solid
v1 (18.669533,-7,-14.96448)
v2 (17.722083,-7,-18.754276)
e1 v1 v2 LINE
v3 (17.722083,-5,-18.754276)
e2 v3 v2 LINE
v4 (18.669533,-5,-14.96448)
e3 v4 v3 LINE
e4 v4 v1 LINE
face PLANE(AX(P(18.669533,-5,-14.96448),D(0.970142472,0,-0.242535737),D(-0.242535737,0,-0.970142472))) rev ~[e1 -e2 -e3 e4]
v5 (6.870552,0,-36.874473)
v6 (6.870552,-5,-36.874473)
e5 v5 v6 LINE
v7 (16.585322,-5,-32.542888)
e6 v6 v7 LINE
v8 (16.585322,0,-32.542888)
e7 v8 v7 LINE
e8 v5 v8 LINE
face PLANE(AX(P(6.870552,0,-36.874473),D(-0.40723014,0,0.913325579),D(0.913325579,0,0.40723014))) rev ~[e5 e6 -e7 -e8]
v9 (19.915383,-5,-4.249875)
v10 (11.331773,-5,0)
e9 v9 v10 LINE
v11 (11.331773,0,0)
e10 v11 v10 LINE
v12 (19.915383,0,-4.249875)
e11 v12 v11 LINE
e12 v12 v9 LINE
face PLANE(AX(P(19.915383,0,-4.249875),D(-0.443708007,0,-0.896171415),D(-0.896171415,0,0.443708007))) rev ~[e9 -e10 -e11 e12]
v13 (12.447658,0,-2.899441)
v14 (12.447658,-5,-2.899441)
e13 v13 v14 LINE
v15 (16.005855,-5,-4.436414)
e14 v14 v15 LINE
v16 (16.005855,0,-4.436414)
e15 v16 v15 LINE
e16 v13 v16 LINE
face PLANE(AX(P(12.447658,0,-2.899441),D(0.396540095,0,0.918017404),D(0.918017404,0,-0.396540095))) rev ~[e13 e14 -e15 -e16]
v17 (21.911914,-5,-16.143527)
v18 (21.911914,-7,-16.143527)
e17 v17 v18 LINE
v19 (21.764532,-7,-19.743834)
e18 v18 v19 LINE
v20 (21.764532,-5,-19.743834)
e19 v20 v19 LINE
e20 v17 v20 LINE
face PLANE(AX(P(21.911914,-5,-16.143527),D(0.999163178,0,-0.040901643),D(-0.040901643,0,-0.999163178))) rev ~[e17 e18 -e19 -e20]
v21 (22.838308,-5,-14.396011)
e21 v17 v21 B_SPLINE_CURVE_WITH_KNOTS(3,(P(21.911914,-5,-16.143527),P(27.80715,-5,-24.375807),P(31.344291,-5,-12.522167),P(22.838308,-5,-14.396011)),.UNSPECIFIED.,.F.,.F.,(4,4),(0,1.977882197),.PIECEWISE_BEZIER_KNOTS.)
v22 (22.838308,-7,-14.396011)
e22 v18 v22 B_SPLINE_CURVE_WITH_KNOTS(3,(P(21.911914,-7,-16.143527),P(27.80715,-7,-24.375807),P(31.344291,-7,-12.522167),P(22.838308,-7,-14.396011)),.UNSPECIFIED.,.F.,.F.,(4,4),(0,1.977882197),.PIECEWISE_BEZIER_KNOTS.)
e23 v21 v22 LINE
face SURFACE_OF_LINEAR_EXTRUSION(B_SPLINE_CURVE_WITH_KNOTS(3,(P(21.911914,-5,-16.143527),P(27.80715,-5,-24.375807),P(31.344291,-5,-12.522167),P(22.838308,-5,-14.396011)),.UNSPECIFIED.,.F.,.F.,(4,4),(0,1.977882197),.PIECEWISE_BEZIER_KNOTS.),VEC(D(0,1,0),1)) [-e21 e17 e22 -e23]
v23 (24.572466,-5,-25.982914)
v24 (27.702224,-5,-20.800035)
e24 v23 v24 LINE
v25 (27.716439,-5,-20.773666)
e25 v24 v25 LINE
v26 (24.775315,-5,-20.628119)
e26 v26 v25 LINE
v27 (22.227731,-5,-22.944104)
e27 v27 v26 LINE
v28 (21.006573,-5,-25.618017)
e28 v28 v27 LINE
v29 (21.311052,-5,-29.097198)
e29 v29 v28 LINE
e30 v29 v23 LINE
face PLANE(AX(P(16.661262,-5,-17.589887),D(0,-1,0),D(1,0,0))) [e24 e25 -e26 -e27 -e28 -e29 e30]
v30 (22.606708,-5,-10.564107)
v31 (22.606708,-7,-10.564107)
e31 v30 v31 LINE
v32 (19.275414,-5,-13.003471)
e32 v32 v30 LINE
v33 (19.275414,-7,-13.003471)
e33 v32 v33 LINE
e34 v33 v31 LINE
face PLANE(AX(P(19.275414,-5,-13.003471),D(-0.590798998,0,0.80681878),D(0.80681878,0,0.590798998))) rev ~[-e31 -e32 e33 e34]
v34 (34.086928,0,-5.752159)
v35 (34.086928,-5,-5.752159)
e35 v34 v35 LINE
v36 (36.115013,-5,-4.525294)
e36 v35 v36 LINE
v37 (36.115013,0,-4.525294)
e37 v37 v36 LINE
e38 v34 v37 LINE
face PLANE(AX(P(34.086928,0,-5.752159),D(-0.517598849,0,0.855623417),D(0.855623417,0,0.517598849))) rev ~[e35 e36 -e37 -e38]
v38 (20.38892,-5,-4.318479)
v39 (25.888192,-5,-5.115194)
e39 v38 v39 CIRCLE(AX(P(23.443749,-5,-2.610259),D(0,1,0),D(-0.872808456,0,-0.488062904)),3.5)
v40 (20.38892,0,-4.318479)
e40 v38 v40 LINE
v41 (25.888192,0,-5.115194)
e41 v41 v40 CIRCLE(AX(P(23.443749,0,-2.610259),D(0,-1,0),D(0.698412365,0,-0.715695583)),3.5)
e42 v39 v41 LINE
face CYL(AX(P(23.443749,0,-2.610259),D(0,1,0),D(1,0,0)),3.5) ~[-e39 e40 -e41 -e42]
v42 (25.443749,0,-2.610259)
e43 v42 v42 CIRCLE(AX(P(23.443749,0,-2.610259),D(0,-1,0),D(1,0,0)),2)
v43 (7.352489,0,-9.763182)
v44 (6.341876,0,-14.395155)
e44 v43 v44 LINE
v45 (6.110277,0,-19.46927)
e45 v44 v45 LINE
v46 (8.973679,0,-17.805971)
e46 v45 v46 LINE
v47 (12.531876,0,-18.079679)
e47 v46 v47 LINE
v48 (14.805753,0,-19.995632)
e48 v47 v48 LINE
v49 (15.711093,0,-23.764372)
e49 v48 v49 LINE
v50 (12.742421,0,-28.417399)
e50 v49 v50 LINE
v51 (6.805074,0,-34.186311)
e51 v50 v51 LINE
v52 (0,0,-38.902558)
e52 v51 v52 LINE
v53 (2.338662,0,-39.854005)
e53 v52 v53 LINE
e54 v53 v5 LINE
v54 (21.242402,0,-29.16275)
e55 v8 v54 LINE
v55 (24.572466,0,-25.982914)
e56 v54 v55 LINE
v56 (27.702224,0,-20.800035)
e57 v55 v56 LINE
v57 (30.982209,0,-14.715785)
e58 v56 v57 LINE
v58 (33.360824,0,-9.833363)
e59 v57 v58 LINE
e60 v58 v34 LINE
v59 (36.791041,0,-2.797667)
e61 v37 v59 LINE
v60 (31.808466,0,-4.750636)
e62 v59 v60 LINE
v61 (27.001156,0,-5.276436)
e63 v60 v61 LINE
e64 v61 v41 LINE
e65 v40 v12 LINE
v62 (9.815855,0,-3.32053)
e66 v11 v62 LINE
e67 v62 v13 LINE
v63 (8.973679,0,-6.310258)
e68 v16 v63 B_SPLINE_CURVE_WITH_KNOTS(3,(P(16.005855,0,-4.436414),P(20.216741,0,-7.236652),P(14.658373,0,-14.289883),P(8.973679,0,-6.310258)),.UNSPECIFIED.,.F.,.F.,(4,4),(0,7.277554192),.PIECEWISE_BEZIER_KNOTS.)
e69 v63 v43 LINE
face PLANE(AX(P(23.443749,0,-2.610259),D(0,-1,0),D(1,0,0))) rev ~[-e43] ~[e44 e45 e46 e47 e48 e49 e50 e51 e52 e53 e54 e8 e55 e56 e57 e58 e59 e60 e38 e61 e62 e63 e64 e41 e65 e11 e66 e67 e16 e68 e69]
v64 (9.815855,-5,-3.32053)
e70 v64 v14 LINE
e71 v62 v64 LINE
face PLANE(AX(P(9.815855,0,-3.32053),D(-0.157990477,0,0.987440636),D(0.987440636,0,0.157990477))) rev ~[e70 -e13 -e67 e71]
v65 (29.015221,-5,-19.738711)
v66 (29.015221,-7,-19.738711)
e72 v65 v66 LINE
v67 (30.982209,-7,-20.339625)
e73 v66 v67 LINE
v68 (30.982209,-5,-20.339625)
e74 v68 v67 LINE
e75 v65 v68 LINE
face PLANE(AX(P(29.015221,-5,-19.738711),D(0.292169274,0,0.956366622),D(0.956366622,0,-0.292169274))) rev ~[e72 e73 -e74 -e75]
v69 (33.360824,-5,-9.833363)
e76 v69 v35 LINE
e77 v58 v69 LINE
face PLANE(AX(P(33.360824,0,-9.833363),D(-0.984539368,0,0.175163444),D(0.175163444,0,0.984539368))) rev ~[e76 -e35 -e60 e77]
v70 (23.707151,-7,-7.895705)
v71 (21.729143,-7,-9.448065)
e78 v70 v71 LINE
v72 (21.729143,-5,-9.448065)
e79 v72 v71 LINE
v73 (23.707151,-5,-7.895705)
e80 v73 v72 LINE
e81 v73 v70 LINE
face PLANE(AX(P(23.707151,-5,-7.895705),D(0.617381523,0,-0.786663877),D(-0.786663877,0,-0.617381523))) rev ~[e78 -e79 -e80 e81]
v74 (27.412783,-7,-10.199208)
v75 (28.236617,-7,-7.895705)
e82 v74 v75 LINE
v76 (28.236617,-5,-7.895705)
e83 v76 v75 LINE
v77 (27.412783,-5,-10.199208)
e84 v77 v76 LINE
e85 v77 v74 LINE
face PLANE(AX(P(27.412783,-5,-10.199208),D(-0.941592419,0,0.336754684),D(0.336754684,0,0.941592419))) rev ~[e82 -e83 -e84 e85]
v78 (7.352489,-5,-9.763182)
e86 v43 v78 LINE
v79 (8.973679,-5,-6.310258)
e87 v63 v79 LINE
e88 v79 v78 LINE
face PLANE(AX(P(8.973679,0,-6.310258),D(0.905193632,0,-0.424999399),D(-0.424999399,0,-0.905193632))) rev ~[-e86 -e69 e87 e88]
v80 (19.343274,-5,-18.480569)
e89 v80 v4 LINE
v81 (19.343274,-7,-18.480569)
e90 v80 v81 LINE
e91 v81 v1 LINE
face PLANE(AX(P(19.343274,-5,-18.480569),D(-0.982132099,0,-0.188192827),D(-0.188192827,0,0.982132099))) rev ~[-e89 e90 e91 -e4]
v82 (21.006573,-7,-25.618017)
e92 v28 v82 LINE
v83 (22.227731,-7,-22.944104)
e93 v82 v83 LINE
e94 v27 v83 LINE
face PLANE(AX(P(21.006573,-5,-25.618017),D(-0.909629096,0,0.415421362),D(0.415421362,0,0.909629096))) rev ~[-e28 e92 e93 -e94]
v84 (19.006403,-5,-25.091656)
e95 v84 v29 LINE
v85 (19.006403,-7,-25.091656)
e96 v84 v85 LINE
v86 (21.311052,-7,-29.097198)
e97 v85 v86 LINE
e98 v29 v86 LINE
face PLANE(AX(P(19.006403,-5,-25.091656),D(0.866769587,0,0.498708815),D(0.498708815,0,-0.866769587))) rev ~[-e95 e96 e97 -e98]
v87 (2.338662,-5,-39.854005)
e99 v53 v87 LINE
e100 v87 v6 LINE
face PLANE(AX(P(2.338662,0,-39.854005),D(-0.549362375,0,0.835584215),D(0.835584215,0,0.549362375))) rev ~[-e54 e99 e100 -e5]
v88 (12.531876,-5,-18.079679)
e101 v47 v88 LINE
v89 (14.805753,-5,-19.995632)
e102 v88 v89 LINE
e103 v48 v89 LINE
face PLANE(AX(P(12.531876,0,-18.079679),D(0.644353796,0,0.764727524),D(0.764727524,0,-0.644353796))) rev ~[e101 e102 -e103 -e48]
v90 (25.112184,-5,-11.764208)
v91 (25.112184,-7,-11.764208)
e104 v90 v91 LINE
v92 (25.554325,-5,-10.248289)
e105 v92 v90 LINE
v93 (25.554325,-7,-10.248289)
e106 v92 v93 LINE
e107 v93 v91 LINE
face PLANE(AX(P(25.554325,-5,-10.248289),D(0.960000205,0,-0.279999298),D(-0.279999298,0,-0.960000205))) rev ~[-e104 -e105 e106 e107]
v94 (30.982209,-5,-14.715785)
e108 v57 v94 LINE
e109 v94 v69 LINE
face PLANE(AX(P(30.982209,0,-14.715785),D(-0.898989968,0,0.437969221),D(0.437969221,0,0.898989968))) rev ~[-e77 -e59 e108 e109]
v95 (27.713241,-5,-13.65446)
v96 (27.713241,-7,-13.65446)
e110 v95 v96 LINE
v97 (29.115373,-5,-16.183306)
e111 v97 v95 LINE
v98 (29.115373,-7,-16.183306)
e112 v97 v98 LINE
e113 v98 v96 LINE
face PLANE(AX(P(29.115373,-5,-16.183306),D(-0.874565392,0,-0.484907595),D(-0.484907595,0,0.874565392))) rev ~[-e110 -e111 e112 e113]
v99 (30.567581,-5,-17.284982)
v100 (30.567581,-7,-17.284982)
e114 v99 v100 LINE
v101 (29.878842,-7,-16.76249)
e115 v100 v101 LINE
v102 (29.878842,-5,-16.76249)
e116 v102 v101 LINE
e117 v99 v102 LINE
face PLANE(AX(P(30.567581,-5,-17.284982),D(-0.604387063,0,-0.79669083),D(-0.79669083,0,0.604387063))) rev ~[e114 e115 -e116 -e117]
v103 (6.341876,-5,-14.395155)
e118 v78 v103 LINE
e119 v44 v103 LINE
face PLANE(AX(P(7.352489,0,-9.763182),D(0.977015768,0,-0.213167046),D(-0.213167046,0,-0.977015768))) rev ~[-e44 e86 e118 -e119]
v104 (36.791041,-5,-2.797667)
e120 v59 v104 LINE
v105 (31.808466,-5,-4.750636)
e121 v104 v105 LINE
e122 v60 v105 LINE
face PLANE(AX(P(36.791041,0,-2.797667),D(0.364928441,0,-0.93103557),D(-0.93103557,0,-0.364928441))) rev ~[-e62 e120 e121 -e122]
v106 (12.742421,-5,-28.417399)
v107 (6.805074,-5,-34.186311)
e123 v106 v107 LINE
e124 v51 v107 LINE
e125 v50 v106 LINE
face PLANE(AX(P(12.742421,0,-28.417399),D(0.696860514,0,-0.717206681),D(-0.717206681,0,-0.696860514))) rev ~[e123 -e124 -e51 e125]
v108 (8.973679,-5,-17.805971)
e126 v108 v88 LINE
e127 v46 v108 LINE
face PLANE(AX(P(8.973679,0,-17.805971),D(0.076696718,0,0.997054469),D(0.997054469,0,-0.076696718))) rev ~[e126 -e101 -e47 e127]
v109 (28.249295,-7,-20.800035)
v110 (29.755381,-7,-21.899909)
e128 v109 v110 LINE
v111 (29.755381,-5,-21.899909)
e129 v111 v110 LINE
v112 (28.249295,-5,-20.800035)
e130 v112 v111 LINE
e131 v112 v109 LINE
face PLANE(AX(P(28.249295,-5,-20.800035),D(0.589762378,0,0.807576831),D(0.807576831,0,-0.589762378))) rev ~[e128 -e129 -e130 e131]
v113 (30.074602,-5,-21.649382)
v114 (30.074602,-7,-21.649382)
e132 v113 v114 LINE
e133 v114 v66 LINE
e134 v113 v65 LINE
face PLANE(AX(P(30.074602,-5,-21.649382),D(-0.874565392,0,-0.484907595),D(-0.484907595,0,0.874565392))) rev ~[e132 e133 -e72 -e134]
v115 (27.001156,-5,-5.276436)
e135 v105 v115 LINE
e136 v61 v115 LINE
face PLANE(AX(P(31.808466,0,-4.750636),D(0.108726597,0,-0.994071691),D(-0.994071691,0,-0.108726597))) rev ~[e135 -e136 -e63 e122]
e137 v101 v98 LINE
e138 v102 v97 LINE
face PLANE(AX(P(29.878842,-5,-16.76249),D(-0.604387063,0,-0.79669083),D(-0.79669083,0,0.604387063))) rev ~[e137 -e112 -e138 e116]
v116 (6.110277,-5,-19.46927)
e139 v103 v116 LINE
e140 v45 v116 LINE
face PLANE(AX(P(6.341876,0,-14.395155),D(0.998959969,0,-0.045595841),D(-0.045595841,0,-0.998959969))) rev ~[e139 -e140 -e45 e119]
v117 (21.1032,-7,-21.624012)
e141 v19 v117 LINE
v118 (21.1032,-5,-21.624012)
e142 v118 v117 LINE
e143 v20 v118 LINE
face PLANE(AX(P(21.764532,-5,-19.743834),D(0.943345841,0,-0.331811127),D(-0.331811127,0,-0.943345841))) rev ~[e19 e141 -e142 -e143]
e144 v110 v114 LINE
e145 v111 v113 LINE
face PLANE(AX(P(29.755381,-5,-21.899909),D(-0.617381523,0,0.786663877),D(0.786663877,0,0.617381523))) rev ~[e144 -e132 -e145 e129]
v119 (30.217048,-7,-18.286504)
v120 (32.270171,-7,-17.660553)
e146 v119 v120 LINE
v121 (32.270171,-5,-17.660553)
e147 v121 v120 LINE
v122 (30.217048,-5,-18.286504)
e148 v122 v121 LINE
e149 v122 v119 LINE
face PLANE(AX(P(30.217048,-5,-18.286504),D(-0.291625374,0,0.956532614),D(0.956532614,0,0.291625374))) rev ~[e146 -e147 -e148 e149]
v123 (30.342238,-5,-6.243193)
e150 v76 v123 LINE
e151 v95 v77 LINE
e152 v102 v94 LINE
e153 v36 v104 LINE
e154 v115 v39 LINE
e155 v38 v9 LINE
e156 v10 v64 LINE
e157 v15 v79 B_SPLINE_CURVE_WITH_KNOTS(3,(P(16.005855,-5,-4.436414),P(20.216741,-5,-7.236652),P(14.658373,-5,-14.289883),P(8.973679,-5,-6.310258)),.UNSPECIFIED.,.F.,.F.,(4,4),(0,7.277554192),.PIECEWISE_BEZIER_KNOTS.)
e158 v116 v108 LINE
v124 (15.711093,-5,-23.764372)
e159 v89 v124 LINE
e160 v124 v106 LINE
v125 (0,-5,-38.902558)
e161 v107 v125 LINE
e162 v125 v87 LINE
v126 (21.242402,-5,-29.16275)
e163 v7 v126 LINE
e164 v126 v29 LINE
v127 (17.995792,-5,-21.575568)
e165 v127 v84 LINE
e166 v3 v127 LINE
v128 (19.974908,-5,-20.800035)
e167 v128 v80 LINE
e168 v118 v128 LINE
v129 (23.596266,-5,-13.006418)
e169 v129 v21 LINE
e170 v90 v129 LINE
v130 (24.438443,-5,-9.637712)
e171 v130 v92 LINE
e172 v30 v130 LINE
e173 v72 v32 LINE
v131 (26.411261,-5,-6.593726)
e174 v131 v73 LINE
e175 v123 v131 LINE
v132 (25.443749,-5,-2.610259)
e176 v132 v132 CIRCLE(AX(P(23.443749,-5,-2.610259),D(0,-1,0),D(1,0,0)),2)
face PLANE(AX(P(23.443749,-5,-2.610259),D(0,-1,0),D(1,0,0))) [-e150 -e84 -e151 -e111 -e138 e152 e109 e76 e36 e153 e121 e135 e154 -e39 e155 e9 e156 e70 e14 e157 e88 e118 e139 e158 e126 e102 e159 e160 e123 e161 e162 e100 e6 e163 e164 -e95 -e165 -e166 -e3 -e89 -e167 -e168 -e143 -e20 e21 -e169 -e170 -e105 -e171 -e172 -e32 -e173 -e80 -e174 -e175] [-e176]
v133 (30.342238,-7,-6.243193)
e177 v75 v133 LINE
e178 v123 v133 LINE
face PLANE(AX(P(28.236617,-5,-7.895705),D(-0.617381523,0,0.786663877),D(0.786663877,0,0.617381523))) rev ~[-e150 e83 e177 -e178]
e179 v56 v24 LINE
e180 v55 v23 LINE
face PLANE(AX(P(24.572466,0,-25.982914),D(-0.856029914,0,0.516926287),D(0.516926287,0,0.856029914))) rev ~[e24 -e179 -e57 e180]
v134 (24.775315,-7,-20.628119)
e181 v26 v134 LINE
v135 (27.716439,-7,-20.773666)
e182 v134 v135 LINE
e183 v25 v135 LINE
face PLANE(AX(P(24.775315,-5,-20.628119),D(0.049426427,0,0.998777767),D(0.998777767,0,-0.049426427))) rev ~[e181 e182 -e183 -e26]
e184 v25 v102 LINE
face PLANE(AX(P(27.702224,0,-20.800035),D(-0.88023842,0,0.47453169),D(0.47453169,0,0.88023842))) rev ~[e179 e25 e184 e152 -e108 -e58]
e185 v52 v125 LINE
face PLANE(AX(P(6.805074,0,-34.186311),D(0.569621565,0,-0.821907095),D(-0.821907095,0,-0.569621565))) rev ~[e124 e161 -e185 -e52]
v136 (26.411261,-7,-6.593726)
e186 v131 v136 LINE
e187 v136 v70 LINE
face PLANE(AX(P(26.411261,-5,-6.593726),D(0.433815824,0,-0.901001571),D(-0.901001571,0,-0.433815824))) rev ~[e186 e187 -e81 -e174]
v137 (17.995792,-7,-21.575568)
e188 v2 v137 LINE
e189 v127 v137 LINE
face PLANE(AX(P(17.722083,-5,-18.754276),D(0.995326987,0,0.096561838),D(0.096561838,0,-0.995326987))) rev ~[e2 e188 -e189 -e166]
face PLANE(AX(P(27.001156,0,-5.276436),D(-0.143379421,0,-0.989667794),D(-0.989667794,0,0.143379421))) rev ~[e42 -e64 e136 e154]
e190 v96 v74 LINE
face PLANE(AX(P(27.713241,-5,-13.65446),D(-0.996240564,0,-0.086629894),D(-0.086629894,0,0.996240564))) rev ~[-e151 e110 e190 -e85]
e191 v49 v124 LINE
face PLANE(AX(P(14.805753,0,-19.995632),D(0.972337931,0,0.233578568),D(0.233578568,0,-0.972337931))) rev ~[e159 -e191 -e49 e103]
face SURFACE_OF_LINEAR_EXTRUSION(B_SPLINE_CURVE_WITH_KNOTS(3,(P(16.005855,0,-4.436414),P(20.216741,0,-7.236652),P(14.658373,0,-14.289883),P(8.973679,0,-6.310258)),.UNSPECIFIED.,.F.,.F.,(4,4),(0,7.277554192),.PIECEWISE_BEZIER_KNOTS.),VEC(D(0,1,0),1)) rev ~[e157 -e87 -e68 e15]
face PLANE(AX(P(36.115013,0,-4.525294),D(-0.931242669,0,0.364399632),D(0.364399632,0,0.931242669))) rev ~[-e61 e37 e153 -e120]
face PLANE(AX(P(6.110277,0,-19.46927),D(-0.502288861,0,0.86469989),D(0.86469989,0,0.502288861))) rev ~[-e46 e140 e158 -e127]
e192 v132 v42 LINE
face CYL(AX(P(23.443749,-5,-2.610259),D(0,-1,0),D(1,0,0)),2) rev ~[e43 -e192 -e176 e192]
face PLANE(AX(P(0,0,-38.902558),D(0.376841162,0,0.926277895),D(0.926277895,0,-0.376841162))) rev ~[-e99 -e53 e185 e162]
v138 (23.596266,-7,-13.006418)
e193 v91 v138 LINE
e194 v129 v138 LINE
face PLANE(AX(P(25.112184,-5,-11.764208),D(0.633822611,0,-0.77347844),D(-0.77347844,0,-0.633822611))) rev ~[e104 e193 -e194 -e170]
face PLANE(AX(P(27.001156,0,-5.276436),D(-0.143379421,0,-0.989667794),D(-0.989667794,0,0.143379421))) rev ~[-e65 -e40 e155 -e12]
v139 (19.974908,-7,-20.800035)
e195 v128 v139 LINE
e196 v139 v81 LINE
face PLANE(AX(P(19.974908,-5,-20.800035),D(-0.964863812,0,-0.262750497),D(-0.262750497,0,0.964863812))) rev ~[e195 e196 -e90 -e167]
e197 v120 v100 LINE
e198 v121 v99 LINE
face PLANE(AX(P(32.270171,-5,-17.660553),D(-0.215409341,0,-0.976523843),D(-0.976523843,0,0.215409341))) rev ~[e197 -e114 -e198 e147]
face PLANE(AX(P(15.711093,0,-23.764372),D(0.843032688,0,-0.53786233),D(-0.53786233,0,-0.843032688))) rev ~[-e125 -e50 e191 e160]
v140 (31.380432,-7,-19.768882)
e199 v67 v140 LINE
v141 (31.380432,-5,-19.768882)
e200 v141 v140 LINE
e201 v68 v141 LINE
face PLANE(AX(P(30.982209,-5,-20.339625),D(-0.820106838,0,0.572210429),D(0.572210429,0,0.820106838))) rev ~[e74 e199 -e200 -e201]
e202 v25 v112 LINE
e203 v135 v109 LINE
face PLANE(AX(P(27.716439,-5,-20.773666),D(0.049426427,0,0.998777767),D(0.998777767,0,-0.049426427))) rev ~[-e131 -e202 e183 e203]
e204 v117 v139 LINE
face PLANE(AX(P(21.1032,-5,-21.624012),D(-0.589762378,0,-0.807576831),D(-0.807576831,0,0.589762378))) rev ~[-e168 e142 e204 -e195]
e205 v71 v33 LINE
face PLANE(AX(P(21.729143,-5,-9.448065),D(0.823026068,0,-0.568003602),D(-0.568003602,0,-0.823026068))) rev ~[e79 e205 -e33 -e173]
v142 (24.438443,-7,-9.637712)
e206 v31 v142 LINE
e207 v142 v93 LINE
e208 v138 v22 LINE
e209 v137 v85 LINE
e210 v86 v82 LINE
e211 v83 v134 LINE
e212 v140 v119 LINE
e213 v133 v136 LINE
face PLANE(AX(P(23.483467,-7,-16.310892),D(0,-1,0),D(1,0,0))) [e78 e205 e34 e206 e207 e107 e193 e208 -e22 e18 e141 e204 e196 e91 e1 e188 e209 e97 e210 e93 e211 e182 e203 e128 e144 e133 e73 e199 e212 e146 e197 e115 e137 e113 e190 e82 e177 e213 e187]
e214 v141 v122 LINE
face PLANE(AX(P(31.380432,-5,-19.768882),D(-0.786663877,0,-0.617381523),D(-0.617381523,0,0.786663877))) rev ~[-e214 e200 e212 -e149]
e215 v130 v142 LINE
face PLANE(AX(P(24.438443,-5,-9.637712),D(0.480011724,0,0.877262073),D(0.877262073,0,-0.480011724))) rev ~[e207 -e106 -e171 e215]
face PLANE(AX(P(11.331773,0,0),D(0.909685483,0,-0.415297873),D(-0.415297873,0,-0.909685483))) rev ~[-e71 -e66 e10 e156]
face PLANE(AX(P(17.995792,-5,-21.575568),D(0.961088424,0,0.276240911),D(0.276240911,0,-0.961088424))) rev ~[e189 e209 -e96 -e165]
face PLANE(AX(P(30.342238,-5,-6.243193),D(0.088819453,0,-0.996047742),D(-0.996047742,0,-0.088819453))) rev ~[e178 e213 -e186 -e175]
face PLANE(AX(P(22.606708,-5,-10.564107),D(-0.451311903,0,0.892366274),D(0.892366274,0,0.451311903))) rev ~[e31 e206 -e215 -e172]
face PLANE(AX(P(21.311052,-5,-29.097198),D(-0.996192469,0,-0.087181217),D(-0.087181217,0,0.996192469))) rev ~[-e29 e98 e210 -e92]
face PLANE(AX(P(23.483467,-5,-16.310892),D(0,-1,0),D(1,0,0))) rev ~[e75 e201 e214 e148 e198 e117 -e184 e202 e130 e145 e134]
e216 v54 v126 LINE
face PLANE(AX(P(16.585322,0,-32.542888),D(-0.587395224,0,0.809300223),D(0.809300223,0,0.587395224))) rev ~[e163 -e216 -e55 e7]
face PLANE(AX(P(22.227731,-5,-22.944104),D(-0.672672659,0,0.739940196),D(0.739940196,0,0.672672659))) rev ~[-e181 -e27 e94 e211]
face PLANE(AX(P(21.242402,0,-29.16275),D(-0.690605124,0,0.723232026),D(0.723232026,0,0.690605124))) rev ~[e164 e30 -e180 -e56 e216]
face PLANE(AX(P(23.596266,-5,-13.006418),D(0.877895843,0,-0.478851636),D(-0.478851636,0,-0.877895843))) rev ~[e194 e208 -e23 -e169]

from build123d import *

# Parameters (mm, degrees)
F1_DEPTH = 5
F3_DEPTH = 2
F4_R     = 3.5
F5_DEPTH = 5
F6_R     = 2
F7_DEPTH = 5000


with BuildPart() as f1:
    # F0 (on Front) → F1 (new body)
    with BuildSketch(Plane.XZ):
        with BuildLine():
            Line((19.9153833091, -4.2498749681), (11.3317733631, 0))
            Line((11.3317733631, 0), (9.8158549517, -3.3205298241))
            Line((9.8158549517, -3.3205298241), (12.4476579949, -2.8994414024))
            Line((12.4476579949, -2.8994414024), (16.0058550537, -4.4364142232))
            add(Edge.make_bspline(
                [(16.0058550537, -4.4364142232), (20.2167406678, -7.2366520762), (14.6583728492, -14.2898829654), (8.973678574, -6.310257595)],
                knots=[0, 0, 0, 0, 7.2775541924, 7.2775541924, 7.2775541924, 7.2775541924], degree=3))
            Line((8.973678574, -6.310257595), (7.3524885811, -9.7631821409))
            Line((7.3524885811, -9.7631821409), (6.3418764621, -14.3951550126))
            Line((6.3418764621, -14.3951550126), (6.1102770269, -19.4692704827))
            Line((6.1102770269, -19.4692704827), (8.973678574, -17.8059712052))
            Line((8.973678574, -17.8059712052), (12.5318756327, -18.0796794593))
            Line((12.5318756327, -18.0796794593), (14.805752784, -19.9956316501))
            Line((14.805752784, -19.9956316501), (15.7110933214, -23.7643718719))
            Line((15.7110933214, -23.7643718719), (12.7424206585, -28.4173991531))
            Line((12.7424206585, -28.4173991531), (6.8050744012, -34.1863110662))
            Line((6.8050744012, -34.1863110662), (0, -38.9025583863))
            Line((0, -38.9025583863), (2.3386615794, -39.8540049791))
            Line((2.3386615794, -39.8540049791), (6.8705515005, -36.8744730949))
            Line((6.8705515005, -36.8744730949), (16.5853220969, -32.5428880751))
            Line((16.5853220969, -32.5428880751), (21.242402494, -29.1627496481))
            Line((21.242402494, -29.1627496481), (24.5724655688, -25.9829144925))
            Line((24.5724655688, -25.9829144925), (27.7022235096, -20.8000354469))
            Line((27.7022235096, -20.8000354469), (30.9822093695, -14.7157851607))
            Line((30.9822093695, -14.7157851607), (33.3608239889, -9.8333628848))
            Line((33.3608239889, -9.8333628848), (34.0869277716, -5.7521588169))
            Line((34.0869277716, -5.7521588169), (36.115013063, -4.5252935961))
            Line((36.115013063, -4.5252935961), (36.7910414934, -2.7976669371))
            Line((36.7910414934, -2.7976669371), (31.8084657192, -4.7506359406))
            Line((31.8084657192, -4.7506359406), (27.0011555403, -5.2764355205))
            Line((27.0011555403, -5.2764355205), (19.9153833091, -4.2498749681))
        make_face()
    extrude(amount=F1_DEPTH)

    # F2 (on face) → F3 (join)
    with BuildSketch(Plane.XZ.offset(5)):
        with BuildLine():
            Line((21.7291433364, -9.4480654225), (19.2754138261, -13.0034713075))
            Line((19.2754138261, -13.0034713075), (22.6067081094, -10.5641065165))
            Line((22.6067081094, -10.5641065165), (24.4384426624, -9.6377115697))
            Line((24.4384426624, -9.6377115697), (25.5543254316, -10.2482894436))
            Line((25.5543254316, -10.2482894436), (25.1121837646, -11.7642078549))
            Line((25.1121837646, -11.7642078549), (23.5962662846, -13.0064180121))
            Line((23.5962662846, -13.0064180121), (22.8383075446, -14.3960108981))
            add(Edge.make_bspline(
                [(21.911913529, -16.1435268819), (27.8071500361, -24.3758074939), (31.3442908227, -12.5221665949), (22.8383075446, -14.3960108981)],
                knots=[0, 0, 0, 0, 1.9778821972, 1.9778821972, 1.9778821972, 1.9778821972], degree=3))
            Line((21.911913529, -16.1435268819), (21.7645317316, -19.7438336909))
            Line((21.7645317316, -19.7438336909), (21.1032004239, -21.6240121639))
            Line((21.1032004239, -21.6240121639), (19.9749078602, -20.8000354469))
            Line((19.9749078602, -20.8000354469), (19.3432737142, -18.4805691242))
            Line((19.3432737142, -18.4805691242), (18.669532612, -14.9644799531))
            Line((18.669532612, -14.9644799531), (17.7220832556, -18.7542755157))
            Line((17.7220832556, -18.7542755157), (17.9957915097, -21.5755682439))
            Line((17.9957915097, -21.5755682439), (19.0064031631, -25.0916555524))
            Line((19.0064031631, -25.0916555524), (21.3110515224, -29.0971975582))
            Line((21.3110515224, -29.0971975582), (21.0065729916, -25.6180167198))
            Line((21.0065729916, -25.6180167198), (22.227730602, -22.9441039264))
            Line((22.227730602, -22.9441039264), (24.7753150761, -20.6281188875))
            Line((24.7753150761, -20.6281188875), (27.7164391152, -20.7736660335))
            Line((27.7164391152, -20.7736660335), (29.8788421939, -16.7624897322))
            Line((29.8788421939, -16.7624897322), (29.1153732687, -16.1833055317))
            Line((29.1153732687, -16.1833055317), (27.7132410556, -13.6544601992))
            Line((27.7132410556, -13.6544601992), (27.4127833545, -10.1992078125))
            Line((27.4127833545, -10.1992078125), (28.2366167336, -7.8957052901))
            Line((28.2366167336, -7.8957052901), (30.3422380239, -6.2431930564))
            Line((30.3422380239, -6.2431930564), (26.4112614095, -6.5937256441))
            Line((26.4112614095, -6.5937256441), (23.707151413, -7.8957052901))
            Line((23.707151413, -7.8957052901), (21.7291433364, -9.4480654225))
        make_face()
        Polygon((30.567580834, -17.2849819064), (29.8788421939, -16.7624897322), (27.7164391152, -20.7736660335), (28.2492954284, -20.8000354469), (29.7553811609, -21.899909378), (30.0746022613, -21.6493815286), (29.0152207017, -19.7387114167), (30.9822093695, -20.3396249563), (31.3804323032, -19.7688815121), (30.2170477808, -18.2865038514), (32.2701707482, -17.6605526358), align=None)
    extrude(amount=F3_DEPTH)

    # F4 (on Front) → F5 (join)
    with BuildSketch(Plane.XZ):
        with Locations((23.4437491745, -2.6102589909)):
            Circle(F4_R)
    extrude(amount=F5_DEPTH)

    # F6 (on face) → F7 (cut)
    with BuildSketch(Plane.XZ.offset(5)):
        with Locations((23.4437491745, -2.6102589909)):
            Circle(F6_R)
    extrude(amount=-F7_DEPTH, mode=Mode.SUBTRACT)


solid = f1.part
